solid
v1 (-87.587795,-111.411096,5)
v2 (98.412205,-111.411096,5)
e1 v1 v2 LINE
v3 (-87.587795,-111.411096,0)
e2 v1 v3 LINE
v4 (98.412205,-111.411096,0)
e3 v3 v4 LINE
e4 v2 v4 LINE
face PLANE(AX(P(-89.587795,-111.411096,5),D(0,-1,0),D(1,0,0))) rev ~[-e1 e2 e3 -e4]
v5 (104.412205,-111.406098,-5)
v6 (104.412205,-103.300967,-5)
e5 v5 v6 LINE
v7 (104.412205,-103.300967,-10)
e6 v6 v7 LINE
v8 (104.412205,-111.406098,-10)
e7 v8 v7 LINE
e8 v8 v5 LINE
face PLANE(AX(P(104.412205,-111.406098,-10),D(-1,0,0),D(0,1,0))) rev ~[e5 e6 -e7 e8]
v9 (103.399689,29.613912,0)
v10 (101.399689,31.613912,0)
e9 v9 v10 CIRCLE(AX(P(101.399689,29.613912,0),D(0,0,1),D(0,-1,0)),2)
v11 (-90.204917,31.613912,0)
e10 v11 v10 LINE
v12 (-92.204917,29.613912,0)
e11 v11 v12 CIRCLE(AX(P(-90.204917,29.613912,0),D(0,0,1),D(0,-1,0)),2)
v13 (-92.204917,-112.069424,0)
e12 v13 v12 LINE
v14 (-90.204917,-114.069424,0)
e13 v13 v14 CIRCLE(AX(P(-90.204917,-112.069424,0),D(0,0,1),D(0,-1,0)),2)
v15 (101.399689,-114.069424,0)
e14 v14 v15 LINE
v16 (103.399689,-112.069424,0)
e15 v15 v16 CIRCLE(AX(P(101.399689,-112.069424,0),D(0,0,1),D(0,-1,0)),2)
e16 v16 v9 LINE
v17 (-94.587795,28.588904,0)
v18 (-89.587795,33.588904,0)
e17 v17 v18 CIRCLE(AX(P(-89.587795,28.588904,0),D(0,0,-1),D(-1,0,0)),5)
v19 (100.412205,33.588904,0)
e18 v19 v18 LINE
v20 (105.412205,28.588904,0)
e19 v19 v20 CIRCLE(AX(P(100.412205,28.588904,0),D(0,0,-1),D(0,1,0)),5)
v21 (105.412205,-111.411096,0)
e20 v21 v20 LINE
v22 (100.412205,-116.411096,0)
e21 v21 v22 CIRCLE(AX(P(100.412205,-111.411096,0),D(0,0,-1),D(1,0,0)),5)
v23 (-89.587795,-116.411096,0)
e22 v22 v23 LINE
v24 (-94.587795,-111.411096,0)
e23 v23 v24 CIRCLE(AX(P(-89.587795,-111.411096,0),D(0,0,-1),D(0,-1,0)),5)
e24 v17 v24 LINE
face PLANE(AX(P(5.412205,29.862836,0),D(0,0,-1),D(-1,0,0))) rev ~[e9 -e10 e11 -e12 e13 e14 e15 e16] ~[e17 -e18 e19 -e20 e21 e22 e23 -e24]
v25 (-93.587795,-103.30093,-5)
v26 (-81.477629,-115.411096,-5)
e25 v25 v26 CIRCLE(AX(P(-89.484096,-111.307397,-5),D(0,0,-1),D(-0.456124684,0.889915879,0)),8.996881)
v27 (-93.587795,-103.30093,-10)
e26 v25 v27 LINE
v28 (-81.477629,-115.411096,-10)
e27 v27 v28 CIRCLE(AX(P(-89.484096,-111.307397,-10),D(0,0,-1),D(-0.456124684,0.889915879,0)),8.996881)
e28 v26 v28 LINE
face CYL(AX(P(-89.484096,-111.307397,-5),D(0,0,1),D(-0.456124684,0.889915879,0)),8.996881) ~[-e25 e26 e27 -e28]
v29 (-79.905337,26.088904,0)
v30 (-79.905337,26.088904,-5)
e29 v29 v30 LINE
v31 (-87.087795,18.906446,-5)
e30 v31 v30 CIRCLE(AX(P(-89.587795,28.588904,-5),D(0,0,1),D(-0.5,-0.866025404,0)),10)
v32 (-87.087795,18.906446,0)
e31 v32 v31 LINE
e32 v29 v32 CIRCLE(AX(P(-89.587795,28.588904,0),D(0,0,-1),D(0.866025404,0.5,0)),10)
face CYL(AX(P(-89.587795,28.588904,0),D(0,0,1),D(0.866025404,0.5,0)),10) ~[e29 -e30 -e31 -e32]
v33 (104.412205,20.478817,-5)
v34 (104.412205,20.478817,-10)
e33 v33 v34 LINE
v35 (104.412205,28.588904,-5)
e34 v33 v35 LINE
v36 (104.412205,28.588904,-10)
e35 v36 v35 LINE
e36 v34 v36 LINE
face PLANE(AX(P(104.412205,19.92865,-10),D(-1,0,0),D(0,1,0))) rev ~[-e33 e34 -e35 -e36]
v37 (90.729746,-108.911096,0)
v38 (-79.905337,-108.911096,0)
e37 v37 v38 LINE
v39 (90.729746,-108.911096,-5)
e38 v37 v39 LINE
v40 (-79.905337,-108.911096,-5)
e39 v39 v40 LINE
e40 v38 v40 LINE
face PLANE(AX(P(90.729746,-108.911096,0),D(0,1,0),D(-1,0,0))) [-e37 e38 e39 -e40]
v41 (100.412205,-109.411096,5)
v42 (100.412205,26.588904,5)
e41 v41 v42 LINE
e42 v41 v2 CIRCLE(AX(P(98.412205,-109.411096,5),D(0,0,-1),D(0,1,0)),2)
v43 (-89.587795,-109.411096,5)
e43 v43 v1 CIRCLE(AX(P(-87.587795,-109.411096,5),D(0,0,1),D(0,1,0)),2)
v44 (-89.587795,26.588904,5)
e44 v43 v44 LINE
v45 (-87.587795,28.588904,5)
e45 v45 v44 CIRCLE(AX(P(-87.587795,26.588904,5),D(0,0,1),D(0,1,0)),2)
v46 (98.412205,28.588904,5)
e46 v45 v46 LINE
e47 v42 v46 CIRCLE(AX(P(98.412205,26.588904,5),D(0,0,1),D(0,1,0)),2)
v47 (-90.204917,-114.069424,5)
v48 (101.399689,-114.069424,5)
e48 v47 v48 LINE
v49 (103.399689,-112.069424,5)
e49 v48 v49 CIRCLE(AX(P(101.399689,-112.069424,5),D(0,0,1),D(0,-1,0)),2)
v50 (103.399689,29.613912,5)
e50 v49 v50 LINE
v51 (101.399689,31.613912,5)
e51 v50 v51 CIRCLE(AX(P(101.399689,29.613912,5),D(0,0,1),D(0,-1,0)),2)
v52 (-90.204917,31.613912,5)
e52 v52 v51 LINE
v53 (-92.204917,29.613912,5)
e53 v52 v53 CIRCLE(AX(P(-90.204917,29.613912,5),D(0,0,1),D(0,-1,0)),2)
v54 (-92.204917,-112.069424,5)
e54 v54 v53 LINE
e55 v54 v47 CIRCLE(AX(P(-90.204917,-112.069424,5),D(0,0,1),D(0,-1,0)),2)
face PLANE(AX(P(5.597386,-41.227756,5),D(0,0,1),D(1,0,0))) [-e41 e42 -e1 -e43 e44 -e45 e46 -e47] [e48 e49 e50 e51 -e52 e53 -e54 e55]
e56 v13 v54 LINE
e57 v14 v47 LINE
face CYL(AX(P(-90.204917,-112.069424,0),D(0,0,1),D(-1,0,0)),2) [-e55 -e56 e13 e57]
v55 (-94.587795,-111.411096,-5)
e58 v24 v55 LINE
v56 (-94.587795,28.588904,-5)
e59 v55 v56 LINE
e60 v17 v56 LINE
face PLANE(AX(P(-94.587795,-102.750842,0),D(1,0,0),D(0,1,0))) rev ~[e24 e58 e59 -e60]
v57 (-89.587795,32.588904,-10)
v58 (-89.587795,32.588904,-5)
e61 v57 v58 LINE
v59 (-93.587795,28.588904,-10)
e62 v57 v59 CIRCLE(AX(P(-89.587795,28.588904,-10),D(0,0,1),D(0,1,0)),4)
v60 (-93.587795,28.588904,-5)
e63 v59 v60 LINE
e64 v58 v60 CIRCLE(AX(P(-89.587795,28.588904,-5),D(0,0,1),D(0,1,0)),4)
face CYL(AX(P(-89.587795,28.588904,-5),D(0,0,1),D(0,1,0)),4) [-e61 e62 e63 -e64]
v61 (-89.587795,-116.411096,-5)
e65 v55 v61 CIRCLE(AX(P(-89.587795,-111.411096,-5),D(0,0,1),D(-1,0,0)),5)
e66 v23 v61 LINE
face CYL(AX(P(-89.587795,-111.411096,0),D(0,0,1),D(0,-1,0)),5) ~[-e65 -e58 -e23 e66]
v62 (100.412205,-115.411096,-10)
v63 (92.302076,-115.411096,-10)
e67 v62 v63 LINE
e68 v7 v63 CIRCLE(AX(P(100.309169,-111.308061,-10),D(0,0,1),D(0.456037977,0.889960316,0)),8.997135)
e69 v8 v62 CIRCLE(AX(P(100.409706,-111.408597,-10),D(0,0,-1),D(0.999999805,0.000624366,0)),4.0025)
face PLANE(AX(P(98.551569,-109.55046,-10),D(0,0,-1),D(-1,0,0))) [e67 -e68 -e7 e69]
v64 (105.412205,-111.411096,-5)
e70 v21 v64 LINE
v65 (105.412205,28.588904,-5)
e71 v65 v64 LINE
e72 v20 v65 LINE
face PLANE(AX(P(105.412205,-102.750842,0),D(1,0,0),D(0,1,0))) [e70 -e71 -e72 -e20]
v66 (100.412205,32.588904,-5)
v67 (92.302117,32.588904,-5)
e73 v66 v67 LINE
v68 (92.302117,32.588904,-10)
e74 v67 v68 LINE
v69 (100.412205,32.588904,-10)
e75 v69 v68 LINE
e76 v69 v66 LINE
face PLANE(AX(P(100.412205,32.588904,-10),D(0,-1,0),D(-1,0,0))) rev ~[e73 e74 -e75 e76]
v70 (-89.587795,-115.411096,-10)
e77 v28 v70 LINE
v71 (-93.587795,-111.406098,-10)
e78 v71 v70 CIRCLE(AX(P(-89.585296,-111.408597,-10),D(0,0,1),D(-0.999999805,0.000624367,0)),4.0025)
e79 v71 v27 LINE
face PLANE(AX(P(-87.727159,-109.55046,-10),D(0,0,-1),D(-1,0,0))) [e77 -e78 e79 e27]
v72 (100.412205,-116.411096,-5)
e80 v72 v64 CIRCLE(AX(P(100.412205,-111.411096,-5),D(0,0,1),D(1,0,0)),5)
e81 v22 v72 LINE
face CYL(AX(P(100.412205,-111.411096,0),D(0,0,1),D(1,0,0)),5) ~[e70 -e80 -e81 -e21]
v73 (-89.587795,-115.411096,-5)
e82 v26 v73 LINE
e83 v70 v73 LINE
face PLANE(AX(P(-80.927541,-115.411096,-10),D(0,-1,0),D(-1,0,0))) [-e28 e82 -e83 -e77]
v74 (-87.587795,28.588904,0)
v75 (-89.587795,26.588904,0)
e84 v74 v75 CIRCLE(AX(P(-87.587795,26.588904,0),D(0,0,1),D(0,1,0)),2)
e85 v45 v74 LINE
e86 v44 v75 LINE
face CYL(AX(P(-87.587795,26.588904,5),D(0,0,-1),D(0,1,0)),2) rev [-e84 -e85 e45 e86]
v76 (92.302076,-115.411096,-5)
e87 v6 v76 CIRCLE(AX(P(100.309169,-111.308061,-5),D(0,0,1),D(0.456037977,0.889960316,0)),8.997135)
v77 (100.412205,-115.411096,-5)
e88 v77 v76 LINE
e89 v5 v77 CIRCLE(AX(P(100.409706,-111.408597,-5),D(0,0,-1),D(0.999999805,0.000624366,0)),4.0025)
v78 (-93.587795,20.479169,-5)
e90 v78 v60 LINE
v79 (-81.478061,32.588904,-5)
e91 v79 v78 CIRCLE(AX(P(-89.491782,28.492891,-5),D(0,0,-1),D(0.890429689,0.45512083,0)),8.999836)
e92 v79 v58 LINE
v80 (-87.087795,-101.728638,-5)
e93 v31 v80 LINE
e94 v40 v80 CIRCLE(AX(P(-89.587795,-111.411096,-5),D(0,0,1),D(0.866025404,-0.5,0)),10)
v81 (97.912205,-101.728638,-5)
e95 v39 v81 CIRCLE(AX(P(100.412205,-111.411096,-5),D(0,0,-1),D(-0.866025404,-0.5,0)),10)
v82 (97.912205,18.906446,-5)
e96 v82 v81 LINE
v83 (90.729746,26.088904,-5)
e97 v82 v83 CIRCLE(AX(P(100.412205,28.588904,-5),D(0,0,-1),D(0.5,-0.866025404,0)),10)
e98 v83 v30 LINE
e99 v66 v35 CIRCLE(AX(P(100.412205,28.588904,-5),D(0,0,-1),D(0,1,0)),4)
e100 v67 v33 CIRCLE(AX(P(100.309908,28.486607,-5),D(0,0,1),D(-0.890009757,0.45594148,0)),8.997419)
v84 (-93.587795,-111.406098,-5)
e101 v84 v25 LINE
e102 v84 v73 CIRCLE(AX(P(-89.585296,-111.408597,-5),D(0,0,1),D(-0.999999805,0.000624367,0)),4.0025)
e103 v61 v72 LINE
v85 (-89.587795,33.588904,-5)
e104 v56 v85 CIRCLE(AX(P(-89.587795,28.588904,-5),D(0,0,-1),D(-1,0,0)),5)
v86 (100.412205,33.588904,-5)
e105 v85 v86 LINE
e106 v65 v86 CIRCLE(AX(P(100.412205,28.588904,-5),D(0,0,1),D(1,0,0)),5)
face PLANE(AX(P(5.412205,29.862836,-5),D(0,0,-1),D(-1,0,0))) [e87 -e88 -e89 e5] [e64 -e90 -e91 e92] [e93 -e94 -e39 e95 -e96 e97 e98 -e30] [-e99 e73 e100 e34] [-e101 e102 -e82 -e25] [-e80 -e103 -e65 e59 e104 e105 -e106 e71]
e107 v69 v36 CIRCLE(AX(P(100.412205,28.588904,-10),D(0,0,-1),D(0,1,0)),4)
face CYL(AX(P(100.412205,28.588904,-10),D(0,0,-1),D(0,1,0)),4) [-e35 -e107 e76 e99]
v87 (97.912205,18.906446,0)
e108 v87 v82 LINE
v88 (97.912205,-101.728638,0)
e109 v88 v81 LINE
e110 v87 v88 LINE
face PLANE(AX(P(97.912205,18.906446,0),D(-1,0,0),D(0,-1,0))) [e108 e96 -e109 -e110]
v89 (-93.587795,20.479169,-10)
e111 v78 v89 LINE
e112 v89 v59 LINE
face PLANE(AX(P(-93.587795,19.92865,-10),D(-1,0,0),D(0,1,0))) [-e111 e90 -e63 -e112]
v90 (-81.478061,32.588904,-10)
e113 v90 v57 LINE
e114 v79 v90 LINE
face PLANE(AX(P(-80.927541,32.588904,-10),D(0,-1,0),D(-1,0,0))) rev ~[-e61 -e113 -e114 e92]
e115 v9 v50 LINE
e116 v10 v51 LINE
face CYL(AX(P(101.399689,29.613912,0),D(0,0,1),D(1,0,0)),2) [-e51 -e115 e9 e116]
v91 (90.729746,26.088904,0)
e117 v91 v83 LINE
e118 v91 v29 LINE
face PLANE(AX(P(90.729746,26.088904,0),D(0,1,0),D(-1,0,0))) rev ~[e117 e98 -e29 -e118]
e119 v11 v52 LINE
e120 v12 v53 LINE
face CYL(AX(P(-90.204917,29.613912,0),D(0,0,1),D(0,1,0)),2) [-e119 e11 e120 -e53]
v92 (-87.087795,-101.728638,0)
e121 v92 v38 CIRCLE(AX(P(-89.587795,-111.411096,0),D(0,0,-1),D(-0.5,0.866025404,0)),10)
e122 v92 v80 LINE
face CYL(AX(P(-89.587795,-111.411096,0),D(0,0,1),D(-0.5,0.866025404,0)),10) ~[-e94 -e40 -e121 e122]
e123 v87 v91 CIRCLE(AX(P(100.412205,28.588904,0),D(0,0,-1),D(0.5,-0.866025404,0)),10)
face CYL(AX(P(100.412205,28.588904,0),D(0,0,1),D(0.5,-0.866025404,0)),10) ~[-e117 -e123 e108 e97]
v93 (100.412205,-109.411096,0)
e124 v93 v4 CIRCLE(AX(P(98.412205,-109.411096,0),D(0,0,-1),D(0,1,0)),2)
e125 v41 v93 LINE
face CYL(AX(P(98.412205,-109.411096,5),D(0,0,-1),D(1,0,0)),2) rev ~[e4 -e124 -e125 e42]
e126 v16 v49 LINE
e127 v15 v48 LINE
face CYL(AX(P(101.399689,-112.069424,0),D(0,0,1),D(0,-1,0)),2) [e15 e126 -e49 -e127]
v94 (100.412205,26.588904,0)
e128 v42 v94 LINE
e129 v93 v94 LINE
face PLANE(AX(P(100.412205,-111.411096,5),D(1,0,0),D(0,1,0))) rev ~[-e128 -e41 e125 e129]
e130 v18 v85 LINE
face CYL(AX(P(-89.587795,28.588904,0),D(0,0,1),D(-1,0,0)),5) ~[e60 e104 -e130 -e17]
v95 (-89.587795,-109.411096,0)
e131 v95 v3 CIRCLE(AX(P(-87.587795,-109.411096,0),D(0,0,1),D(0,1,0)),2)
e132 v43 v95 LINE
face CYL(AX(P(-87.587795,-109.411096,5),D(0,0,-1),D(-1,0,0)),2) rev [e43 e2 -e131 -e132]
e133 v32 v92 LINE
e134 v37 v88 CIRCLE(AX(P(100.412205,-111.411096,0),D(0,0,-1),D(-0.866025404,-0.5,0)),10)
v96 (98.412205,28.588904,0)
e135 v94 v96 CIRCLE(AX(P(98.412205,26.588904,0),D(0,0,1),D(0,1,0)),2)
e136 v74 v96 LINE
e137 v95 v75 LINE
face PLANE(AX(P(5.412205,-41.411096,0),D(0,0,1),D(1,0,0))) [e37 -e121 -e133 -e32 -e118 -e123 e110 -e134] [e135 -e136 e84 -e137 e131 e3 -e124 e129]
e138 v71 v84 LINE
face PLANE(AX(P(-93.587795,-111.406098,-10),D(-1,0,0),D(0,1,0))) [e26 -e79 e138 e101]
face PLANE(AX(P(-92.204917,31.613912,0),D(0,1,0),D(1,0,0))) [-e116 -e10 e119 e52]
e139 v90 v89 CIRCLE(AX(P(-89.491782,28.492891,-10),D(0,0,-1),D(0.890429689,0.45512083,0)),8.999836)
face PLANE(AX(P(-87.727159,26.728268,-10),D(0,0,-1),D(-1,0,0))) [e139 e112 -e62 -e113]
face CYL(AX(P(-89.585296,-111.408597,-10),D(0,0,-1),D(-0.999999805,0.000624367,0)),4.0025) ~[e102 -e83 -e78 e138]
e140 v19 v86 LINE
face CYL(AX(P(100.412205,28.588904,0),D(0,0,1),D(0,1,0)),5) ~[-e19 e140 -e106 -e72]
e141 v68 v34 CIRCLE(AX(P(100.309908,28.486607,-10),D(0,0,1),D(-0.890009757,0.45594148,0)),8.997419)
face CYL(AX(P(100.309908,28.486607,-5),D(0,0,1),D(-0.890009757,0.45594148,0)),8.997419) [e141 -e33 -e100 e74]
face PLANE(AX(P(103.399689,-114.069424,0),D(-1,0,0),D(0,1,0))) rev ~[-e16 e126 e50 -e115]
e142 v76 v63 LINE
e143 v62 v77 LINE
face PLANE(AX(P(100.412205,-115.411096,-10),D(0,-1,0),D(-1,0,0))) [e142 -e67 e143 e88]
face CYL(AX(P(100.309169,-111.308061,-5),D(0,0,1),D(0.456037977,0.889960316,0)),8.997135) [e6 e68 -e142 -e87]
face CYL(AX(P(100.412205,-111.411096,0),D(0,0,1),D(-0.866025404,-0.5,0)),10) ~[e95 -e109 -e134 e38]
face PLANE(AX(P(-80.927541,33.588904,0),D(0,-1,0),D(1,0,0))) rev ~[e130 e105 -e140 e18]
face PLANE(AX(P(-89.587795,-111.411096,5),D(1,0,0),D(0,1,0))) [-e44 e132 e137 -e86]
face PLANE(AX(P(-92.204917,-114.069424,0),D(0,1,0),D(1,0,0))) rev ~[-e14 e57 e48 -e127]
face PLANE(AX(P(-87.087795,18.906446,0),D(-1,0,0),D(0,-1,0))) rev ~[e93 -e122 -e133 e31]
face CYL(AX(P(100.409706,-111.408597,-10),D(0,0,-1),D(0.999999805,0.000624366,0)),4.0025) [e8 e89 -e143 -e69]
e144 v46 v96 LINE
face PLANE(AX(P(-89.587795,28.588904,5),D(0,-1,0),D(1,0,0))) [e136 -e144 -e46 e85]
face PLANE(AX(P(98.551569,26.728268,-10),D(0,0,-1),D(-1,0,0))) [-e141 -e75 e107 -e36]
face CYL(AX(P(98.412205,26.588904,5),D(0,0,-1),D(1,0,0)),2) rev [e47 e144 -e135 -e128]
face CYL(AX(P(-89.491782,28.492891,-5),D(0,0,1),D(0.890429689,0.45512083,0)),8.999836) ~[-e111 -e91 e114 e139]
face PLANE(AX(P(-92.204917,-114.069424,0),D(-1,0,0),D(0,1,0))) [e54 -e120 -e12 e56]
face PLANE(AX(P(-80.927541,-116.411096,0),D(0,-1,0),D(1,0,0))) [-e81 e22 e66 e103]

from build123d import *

# Parameters (mm, degrees)
RESSALTO_EXTRUS_O1_DEPTH   = 10
RESSALTO_EXTRUS_O1_2_DEPTH = 10
RESSALTO_EXTRUS_O1_3_DEPTH = 10
RESSALTO_EXTRUS_O1_4_DEPTH = 10
RESSALTO_EXTRUS_O2_DEPTH   = 5
RESSALTO_EXTRUS_O2_2_DEPTH = 5
RESSALTO_EXTRUS_O2_3_DEPTH = 5
RESSALTO_EXTRUS_O2_4_DEPTH = 5
ESBO_O6_W                  = 8.660254038
ESBO_O6_H                  = 1
ESBO_O6_W_2                = 1
ESBO_O6_H_2                = 8.660254038
ESBO_O6_H_3                = 8.655255985
CORTE_EXTRUS_O2_DEPTH      = 5
CORTE_EXTRUS_O10_START     = -5
CORTE_EXTRUS_O10_DEPTH     = 5
CORTE_EXTRUS_O11_DEPTH     = 5
CORTE_EXTRUS_O12_START     = -5
CORTE_EXTRUS_O12_DEPTH     = 5
CORTE_EXTRUS_O15_DEPTH     = 5
CORTE_EXTRUS_O23_DEPTH     = 5
CORTE_EXTRUS_O24_DEPTH     = 5
ESBO_O15_W                 = 195.604606203
ESBO_O15_H                 = 145.68333658
RESSALTO_EXTRUS_O3_DEPTH   = 5
ESBO_O16_W                 = 190
ESBO_O16_H                 = 140
CORTE_EXTRUS_O25_DEPTH     = 5
FILETE1_R                  = 2
FILETE2_R                  = 2
FILETE3_R                  = 2
FILETE4_R                  = 2
FILETE5_R                  = 2
FILETE6_R                  = 2
FILETE7_R                  = 2
FILETE8_R                  = 2


with BuildPart() as part:
    # Esboço4 → Ressalto-extrusão1 (new body)
    with BuildSketch(Plane.XY):
        with BuildLine():
            Line((-94.587795422, 19.928649923), (-94.587795422, 28.588903961))
            ThreePointArc((-94.587795422, 28.588903961), (-93.123329328, 32.124437867), (-89.587795422, 33.588903961))
            Line((-89.587795422, 33.588903961), (-80.927541384, 33.588903961))
            ThreePointArc((-80.927541384, 33.588903961), (-82.51672761, 21.517836149), (-94.587795422, 19.928649923))
        make_face()
    extrude(amount=-RESSALTO_EXTRUS_O1_DEPTH)


with BuildPart() as body_2:
    # Esboço4 → Ressalto-extrus_o1 2 (new body)
    with BuildSketch(Plane.XY):
        with BuildLine():
            Line((91.75195054, 33.588903961), (100.412204578, 33.588903961))
            ThreePointArc((100.412204578, 33.588903961), (103.947738484, 32.124437867), (105.412204578, 28.588903961))
            Line((105.412204578, 28.588903961), (105.412204578, 19.928649923))
            ThreePointArc((105.412204578, 19.928649923), (93.341136766, 21.517836149), (91.75195054, 33.588903961))
        make_face()
    extrude(amount=-RESSALTO_EXTRUS_O1_2_DEPTH)


with BuildPart() as body_3:
    # Esboço4 → Ressalto-extrus_o1 3 (new body)
    with BuildSketch(Plane.XY):
        with BuildLine():
            Line((105.412204578, -102.750842001), (105.412204578, -111.411096039))
            ThreePointArc((105.412204578, -111.411096039), (103.947738484, -114.946629945), (100.412204578, -116.411096039))
            Line((100.412204578, -116.411096039), (91.75195054, -116.411096039))
            ThreePointArc((91.75195054, -116.411096039), (93.341136766, -104.340028227), (105.412204578, -102.750842001))
        make_face()
    extrude(amount=-RESSALTO_EXTRUS_O1_3_DEPTH)


with BuildPart() as body_4:
    # Esboço4 → Ressalto-extrus_o1 4 (new body)
    with BuildSketch(Plane.XY):
        with BuildLine():
            Line((-80.927541384, -116.411096039), (-89.587795422, -116.411096039))
            ThreePointArc((-89.587795422, -116.411096039), (-93.123329328, -114.946629945), (-94.587795422, -111.411096039))
            Line((-94.587795422, -111.411096039), (-94.587795422, -102.750842001))
            ThreePointArc((-94.587795422, -102.750842001), (-82.51672761, -104.340028227), (-80.927541384, -116.411096039))
        make_face()
    extrude(amount=-RESSALTO_EXTRUS_O1_4_DEPTH)


with BuildPart() as body_5:
    # Esboço5 → Ressalto-extrusão2 (new body)
    with BuildSketch(Plane.XY):
        with BuildLine():
            Line((-87.087795422, 18.906445595), (-87.087795422, -101.728637674))
            ThreePointArc((-87.087795422, -101.728637674), (-90.938249206, -101.502701892), (-94.587795422, -102.750842001))
            Line((-94.587795422, -102.750842001), (-94.587795422, 19.928649923))
            ThreePointArc((-94.587795422, 19.928649923), (-90.938249206, 18.680509814), (-87.087795422, 18.906445595))
        make_face()
    extrude(amount=-RESSALTO_EXTRUS_O2_DEPTH)


with BuildPart() as body_6:
    # Esboço5 → Ressalto-extrus_o2 2 (new body)
    with BuildSketch(Plane.XY):
        with BuildLine():
            Line((-80.927541384, -116.411096039), (91.75195054, -116.411096039))
            ThreePointArc((91.75195054, -116.411096039), (90.50381043, -112.761549823), (90.729746212, -108.911096039))
            Line((90.729746212, -108.911096039), (-79.905337057, -108.911096039))
            ThreePointArc((-79.905337057, -108.911096039), (-79.679401275, -112.761549823), (-80.927541384, -116.411096039))
        make_face()
    extrude(amount=-RESSALTO_EXTRUS_O2_2_DEPTH)


with BuildPart() as body_7:
    # Esboço5 → Ressalto-extrus_o2 3 (new body)
    with BuildSketch(Plane.XY):
        with BuildLine():
            Line((97.912204578, 18.906445595), (97.912204578, -101.728637674))
            ThreePointArc((97.912204578, -101.728637674), (101.762658361, -101.502701892), (105.412204578, -102.750842001))
            Line((105.412204578, -102.750842001), (105.412204578, 19.928649923))
            ThreePointArc((105.412204578, 19.928649923), (101.762658361, 18.680509814), (97.912204578, 18.906445595))
        make_face()
    extrude(amount=-RESSALTO_EXTRUS_O2_3_DEPTH)


with BuildPart() as body_8:
    # Esboço5 → Ressalto-extrus_o2 4 (new body)
    with BuildSketch(Plane.XY):
        with BuildLine():
            Line((90.729746212, 26.088903961), (-79.905337057, 26.088903961))
            ThreePointArc((-79.905337057, 26.088903961), (-79.679401275, 29.939357745), (-80.927541384, 33.588903961))
            Line((-80.927541384, 33.588903961), (91.75195054, 33.588903961))
            ThreePointArc((91.75195054, 33.588903961), (90.50381043, 29.939357745), (90.729746212, 26.088903961))
        make_face()
    extrude(amount=-RESSALTO_EXTRUS_O2_4_DEPTH)


with BuildPart() as corte_extrus_o2_tool:
    # Esboço6 → Corte-extrusão2 (new body)
    with BuildSketch(Plane(origin=(0, 0, -10), x_dir=(-1, 0, 0), z_dir=(0, 0, -1))):
        with Locations((-96.082077559, 33.088903961)):
            Rectangle(ESBO_O6_W, ESBO_O6_H)
        with Locations((-104.912204578, 24.258776942)):
            Rectangle(ESBO_O6_W_2, ESBO_O6_H_2)
        with Locations((85.257668403, 33.088903961)):
            Rectangle(ESBO_O6_W, ESBO_O6_H)
        with Locations((94.087795422, 24.258776942)):
            Rectangle(ESBO_O6_W_2, ESBO_O6_H_2)
        with Locations((94.087795422, -107.078469994)):
            Rectangle(ESBO_O6_W_2, ESBO_O6_H_3)
        with Locations((85.257668403, -115.911096039)):
            Rectangle(ESBO_O6_W, ESBO_O6_H)
        with Locations((-96.082077559, -115.911096039)):
            Rectangle(ESBO_O6_W, ESBO_O6_H)
        with Locations((-104.912204578, -107.078469994)):
            Rectangle(ESBO_O6_W_2, ESBO_O6_H_3)
    extrude(amount=-CORTE_EXTRUS_O2_DEPTH)


with BuildPart() as part_1:
    add(part.part)

    # Corte-extrusão2: cut by corte_extrus_o2_tool
    add(corte_extrus_o2_tool.part, mode=Mode.SUBTRACT)


with BuildPart() as body_2_1:
    add(body_2.part)

    # Corte-extrusão2: cut by corte_extrus_o2_tool
    add(corte_extrus_o2_tool.part, mode=Mode.SUBTRACT)


with BuildPart() as body_3_1:
    add(body_3.part)

    # Corte-extrusão2: cut by corte_extrus_o2_tool
    add(corte_extrus_o2_tool.part, mode=Mode.SUBTRACT)


with BuildPart() as body_4_1:
    add(body_4.part)

    # Corte-extrusão2: cut by corte_extrus_o2_tool
    add(corte_extrus_o2_tool.part, mode=Mode.SUBTRACT)


with BuildPart() as corte_extrus_o10_tool:
    # Esboço7 → Corte-extrusão10 (new body)
    with BuildSketch(Plane(origin=(0, 0, -10), x_dir=(-1, 0, 0), z_dir=(0, 0, -1)).offset(CORTE_EXTRUS_O10_START)):
        with BuildLine():
            Line((-104.412204578, 20.478816645), (-104.412204578, 19.928649923))
            Line((-104.412204578, 19.928649923), (-105.412204578, 19.928649923))
            ThreePointArc((-105.412204578, 19.928649923), (-93.341136766, 21.517836149), (-91.75195054, 33.588903961))
            Line((-91.75195054, 33.588903961), (-91.75195054, 32.588903961))
            Line((-91.75195054, 32.588903961), (-92.302117262, 32.588903961))
            ThreePointArc((-92.302117262, 32.588903961), (-93.947771981, 22.124471364), (-104.412204578, 20.478816645))
        make_face()
        with BuildLine():
            Line((80.927541384, 33.588903961), (80.927541384, 32.588903961))
            Line((80.927541384, 32.588903961), (81.478060811, 32.588903961))
            ThreePointArc((81.478060811, 32.588903961), (83.127936997, 22.129045536), (93.587795422, 20.47916935))
            Line((93.587795422, 20.47916935), (93.587795422, 19.928649923))
            Line((93.587795422, 19.928649923), (94.587795422, 19.928649923))
            ThreePointArc((94.587795422, 19.928649923), (82.51672761, 21.517836149), (80.927541384, 33.588903961))
        make_face()
        with BuildLine():
            Line((94.587795422, -102.750842001), (93.587795422, -102.750842001))
            Line((93.587795422, -102.750842001), (93.587795422, -103.300929913))
            ThreePointArc((93.587795422, -103.300929913), (83.122340911, -104.945641528), (81.477629296, -115.411096039))
            Line((81.477629296, -115.411096039), (80.927541384, -115.411096039))
            Line((80.927541384, -115.411096039), (80.927541384, -116.411096039))
            ThreePointArc((80.927541384, -116.411096039), (82.51672761, -104.340028227), (94.587795422, -102.750842001))
        make_face()
        with BuildLine():
            Line((-105.412204578, -102.750842001), (-104.412204578, -102.750842001))
            Line((-104.412204578, -102.750842001), (-104.412204578, -103.300967216))
            ThreePointArc((-104.412204578, -103.300967216), (-93.947233755, -104.946125217), (-92.302075754, -115.411096039))
            Line((-92.302075754, -115.411096039), (-91.75195054, -115.411096039))
            Line((-91.75195054, -115.411096039), (-91.75195054, -116.411096039))
            ThreePointArc((-91.75195054, -116.411096039), (-93.341136766, -104.340028227), (-105.412204578, -102.750842001))
        make_face()
    extrude(amount=CORTE_EXTRUS_O10_DEPTH)


with BuildPart() as part_2:
    add(part_1.part)

    # Corte-extrusão10: cut by corte_extrus_o10_tool
    add(corte_extrus_o10_tool.part, mode=Mode.SUBTRACT)

    # Esboço10 → Corte-extrusão12 (cut)
    with BuildSketch(Plane(origin=(0, 0, -10), x_dir=(-1, 0, 0), z_dir=(0, 0, -1)).offset(CORTE_EXTRUS_O12_START)):
        with BuildLine():
            Line((89.587795422, 33.588903961), (89.587795422, 32.588903961))
            ThreePointArc((89.587795422, 32.588903961), (92.416222547, 31.417331086), (93.587795422, 28.588903961))
            Line((93.587795422, 28.588903961), (94.587795422, 28.588903961))
            ThreePointArc((94.587795422, 28.588903961), (93.123329328, 32.124437867), (89.587795422, 33.588903961))
        make_face()
    extrude(amount=CORTE_EXTRUS_O12_DEPTH, mode=Mode.SUBTRACT)



with BuildPart() as body_2_2:
    add(body_2_1.part)

    # Corte-extrusão10: cut by corte_extrus_o10_tool
    add(corte_extrus_o10_tool.part, mode=Mode.SUBTRACT)

    # Esboço9 → Corte-extrusão11 (cut)
    with BuildSketch(Plane(origin=(0, 0, -10), x_dir=(-1, 0, 0), z_dir=(0, 0, -1))):
        with BuildLine():
            Line((-104.412204578, 28.588903961), (-105.412204578, 28.588903961))
            ThreePointArc((-105.412204578, 28.588903961), (-103.947738484, 32.124437867), (-100.412204578, 33.588903961))
            Line((-100.412204578, 33.588903961), (-100.412204578, 32.588903961))
            ThreePointArc((-100.412204578, 32.588903961), (-103.240631702, 31.417331086), (-104.412204578, 28.588903961))
        make_face()
    extrude(amount=-CORTE_EXTRUS_O11_DEPTH, mode=Mode.SUBTRACT)


with BuildPart() as body_3_2:
    add(body_3_1.part)

    # Corte-extrusão10: cut by corte_extrus_o10_tool
    add(corte_extrus_o10_tool.part, mode=Mode.SUBTRACT)

    # Esboço12 → Corte-extrusão15 (cut)
    with BuildSketch(Plane(origin=(0, 0, -10), x_dir=(-1, 0, 0), z_dir=(0, 0, -1))):
        with BuildLine():
            Line((-105.412204578, -111.406097986), (-104.412204578, -111.406097986))
            ThreePointArc((-104.412204578, -111.406097986), (-103.241666833, -114.237024137), (-100.412204578, -115.411096039))
            Line((-100.412204578, -115.411096039), (-100.412204578, -116.411096039))
            ThreePointArc((-100.412204578, -116.411096039), (-103.949505916, -114.944862489), (-105.412204578, -111.406097986))
        make_face()
    extrude(amount=-CORTE_EXTRUS_O15_DEPTH, mode=Mode.SUBTRACT)


with BuildPart() as body_4_2:
    add(body_4_1.part)

    # Corte-extrusão10: cut by corte_extrus_o10_tool
    add(corte_extrus_o10_tool.part, mode=Mode.SUBTRACT)

    # Esboço13 → Corte-extrusão23 (cut)
    with BuildSketch(Plane(origin=(0, 0, -10), x_dir=(-1, 0, 0), z_dir=(0, 0, -1))):
        with BuildLine():
            Line((89.587795422, -115.91873065), (89.587795422, -116.411096039))
            ThreePointArc((89.587795422, -116.411096039), (93.123329328, -114.946629945), (94.587795422, -111.411096039))
            Line((94.587795422, -111.411096039), (94.087795422, -111.408597013))
            ThreePointArc((94.087795422, -111.408597013), (92.771874683, -114.595644347), (89.587795422, -115.91873065))
        make_face()
    extrude(amount=-CORTE_EXTRUS_O23_DEPTH, mode=Mode.SUBTRACT)

    # Esboço14 → Corte-extrusão24 (cut)
    with BuildSketch(Plane(origin=(0, 0, -10), x_dir=(-1, 0, 0), z_dir=(0, 0, -1))):
        with BuildLine():
            Line((89.587795422, -115.411096039), (89.587795422, -116.007236172))
            Line((89.587795422, -116.007236172), (93.587795422, -115.579473673))
            Line((93.587795422, -115.579473673), (94.418359323, -115.579473673))
            Line((94.418359323, -115.579473673), (94.647359239, -111.35922068))
            Line((94.647359239, -111.35922068), (93.587795422, -111.406097986))
            ThreePointArc((93.587795422, -111.406097986), (92.417257678, -114.237024137), (89.587795422, -115.411096039))
        make_face()
    extrude(amount=-CORTE_EXTRUS_O24_DEPTH, mode=Mode.SUBTRACT)


with BuildPart() as part_3:
    add(part_2.part)

    add(body_2_2.part)  # Ressalto-extrusão3 merges body 2

    add(body_3_2.part)  # Ressalto-extrusão3 merges body 3

    add(body_4_2.part)  # Ressalto-extrusão3 merges body 4

    add(body_5.part)  # Ressalto-extrusão3 merges body 5

    add(body_6.part)  # Ressalto-extrusão3 merges body 6

    add(body_7.part)  # Ressalto-extrusão3 merges body 7

    add(body_8.part)  # Ressalto-extrusão3 merges body 8
    # Esboço15 → Ressalto-extrusão3 (add)
    with BuildSketch(Plane.XY):
        with Locations((5.597386114, -41.227756112)):
            Rectangle(ESBO_O15_W, ESBO_O15_H)
    extrude(amount=RESSALTO_EXTRUS_O3_DEPTH)

    # Esboço16 → Corte-extrusão25 (cut)
    with BuildSketch(Plane.XY.offset(5)):
        with Locations((5.412204578, -41.411096039)):
            Rectangle(ESBO_O16_W, ESBO_O16_H)
    extrude(amount=-CORTE_EXTRUS_O25_DEPTH, mode=Mode.SUBTRACT)

    # Filete1
    filete1_edges = [part_3.edges().sort_by_distance(p)[0] for p in [
        (103.399689215, -114.069424402, 2.5),
    ]]
    fillet(filete1_edges, radius=FILETE1_R)

    # Filete2
    filete2_edges = [part_3.edges().sort_by_distance(p)[0] for p in [
        (103.399689215, 31.613912178, 2.5),
    ]]
    fillet(filete2_edges, radius=FILETE2_R)

    # Filete3
    filete3_edges = [part_3.edges().sort_by_distance(p)[0] for p in [
        (100.412204578, 28.588903961, 2.5),
    ]]
    fillet(filete3_edges, radius=FILETE3_R)

    # Filete4
    filete4_edges = [part_3.edges().sort_by_distance(p)[0] for p in [
        (100.412204578, -111.411096039, 2.5),
    ]]
    fillet(filete4_edges, radius=FILETE4_R)

    # Filete5
    filete5_edges = [part_3.edges().sort_by_distance(p)[0] for p in [
        (-89.587795422, 28.588903961, 2.5),
    ]]
    fillet(filete5_edges, radius=FILETE5_R)

    # Filete6
    filete6_edges = [part_3.edges().sort_by_distance(p)[0] for p in [
        (-92.204916988, 31.613912178, 2.5),
    ]]
    fillet(filete6_edges, radius=FILETE6_R)

    # Filete7
    filete7_edges = [part_3.edges().sort_by_distance(p)[0] for p in [
        (-92.204916988, -114.069424402, 2.5),
    ]]
    fillet(filete7_edges, radius=FILETE7_R)

    # Filete8
    filete8_edges = [part_3.edges().sort_by_distance(p)[0] for p in [
        (-89.587795422, -111.411096039, 2.5),
    ]]
    fillet(filete8_edges, radius=FILETE8_R)


solid = part_3.part
